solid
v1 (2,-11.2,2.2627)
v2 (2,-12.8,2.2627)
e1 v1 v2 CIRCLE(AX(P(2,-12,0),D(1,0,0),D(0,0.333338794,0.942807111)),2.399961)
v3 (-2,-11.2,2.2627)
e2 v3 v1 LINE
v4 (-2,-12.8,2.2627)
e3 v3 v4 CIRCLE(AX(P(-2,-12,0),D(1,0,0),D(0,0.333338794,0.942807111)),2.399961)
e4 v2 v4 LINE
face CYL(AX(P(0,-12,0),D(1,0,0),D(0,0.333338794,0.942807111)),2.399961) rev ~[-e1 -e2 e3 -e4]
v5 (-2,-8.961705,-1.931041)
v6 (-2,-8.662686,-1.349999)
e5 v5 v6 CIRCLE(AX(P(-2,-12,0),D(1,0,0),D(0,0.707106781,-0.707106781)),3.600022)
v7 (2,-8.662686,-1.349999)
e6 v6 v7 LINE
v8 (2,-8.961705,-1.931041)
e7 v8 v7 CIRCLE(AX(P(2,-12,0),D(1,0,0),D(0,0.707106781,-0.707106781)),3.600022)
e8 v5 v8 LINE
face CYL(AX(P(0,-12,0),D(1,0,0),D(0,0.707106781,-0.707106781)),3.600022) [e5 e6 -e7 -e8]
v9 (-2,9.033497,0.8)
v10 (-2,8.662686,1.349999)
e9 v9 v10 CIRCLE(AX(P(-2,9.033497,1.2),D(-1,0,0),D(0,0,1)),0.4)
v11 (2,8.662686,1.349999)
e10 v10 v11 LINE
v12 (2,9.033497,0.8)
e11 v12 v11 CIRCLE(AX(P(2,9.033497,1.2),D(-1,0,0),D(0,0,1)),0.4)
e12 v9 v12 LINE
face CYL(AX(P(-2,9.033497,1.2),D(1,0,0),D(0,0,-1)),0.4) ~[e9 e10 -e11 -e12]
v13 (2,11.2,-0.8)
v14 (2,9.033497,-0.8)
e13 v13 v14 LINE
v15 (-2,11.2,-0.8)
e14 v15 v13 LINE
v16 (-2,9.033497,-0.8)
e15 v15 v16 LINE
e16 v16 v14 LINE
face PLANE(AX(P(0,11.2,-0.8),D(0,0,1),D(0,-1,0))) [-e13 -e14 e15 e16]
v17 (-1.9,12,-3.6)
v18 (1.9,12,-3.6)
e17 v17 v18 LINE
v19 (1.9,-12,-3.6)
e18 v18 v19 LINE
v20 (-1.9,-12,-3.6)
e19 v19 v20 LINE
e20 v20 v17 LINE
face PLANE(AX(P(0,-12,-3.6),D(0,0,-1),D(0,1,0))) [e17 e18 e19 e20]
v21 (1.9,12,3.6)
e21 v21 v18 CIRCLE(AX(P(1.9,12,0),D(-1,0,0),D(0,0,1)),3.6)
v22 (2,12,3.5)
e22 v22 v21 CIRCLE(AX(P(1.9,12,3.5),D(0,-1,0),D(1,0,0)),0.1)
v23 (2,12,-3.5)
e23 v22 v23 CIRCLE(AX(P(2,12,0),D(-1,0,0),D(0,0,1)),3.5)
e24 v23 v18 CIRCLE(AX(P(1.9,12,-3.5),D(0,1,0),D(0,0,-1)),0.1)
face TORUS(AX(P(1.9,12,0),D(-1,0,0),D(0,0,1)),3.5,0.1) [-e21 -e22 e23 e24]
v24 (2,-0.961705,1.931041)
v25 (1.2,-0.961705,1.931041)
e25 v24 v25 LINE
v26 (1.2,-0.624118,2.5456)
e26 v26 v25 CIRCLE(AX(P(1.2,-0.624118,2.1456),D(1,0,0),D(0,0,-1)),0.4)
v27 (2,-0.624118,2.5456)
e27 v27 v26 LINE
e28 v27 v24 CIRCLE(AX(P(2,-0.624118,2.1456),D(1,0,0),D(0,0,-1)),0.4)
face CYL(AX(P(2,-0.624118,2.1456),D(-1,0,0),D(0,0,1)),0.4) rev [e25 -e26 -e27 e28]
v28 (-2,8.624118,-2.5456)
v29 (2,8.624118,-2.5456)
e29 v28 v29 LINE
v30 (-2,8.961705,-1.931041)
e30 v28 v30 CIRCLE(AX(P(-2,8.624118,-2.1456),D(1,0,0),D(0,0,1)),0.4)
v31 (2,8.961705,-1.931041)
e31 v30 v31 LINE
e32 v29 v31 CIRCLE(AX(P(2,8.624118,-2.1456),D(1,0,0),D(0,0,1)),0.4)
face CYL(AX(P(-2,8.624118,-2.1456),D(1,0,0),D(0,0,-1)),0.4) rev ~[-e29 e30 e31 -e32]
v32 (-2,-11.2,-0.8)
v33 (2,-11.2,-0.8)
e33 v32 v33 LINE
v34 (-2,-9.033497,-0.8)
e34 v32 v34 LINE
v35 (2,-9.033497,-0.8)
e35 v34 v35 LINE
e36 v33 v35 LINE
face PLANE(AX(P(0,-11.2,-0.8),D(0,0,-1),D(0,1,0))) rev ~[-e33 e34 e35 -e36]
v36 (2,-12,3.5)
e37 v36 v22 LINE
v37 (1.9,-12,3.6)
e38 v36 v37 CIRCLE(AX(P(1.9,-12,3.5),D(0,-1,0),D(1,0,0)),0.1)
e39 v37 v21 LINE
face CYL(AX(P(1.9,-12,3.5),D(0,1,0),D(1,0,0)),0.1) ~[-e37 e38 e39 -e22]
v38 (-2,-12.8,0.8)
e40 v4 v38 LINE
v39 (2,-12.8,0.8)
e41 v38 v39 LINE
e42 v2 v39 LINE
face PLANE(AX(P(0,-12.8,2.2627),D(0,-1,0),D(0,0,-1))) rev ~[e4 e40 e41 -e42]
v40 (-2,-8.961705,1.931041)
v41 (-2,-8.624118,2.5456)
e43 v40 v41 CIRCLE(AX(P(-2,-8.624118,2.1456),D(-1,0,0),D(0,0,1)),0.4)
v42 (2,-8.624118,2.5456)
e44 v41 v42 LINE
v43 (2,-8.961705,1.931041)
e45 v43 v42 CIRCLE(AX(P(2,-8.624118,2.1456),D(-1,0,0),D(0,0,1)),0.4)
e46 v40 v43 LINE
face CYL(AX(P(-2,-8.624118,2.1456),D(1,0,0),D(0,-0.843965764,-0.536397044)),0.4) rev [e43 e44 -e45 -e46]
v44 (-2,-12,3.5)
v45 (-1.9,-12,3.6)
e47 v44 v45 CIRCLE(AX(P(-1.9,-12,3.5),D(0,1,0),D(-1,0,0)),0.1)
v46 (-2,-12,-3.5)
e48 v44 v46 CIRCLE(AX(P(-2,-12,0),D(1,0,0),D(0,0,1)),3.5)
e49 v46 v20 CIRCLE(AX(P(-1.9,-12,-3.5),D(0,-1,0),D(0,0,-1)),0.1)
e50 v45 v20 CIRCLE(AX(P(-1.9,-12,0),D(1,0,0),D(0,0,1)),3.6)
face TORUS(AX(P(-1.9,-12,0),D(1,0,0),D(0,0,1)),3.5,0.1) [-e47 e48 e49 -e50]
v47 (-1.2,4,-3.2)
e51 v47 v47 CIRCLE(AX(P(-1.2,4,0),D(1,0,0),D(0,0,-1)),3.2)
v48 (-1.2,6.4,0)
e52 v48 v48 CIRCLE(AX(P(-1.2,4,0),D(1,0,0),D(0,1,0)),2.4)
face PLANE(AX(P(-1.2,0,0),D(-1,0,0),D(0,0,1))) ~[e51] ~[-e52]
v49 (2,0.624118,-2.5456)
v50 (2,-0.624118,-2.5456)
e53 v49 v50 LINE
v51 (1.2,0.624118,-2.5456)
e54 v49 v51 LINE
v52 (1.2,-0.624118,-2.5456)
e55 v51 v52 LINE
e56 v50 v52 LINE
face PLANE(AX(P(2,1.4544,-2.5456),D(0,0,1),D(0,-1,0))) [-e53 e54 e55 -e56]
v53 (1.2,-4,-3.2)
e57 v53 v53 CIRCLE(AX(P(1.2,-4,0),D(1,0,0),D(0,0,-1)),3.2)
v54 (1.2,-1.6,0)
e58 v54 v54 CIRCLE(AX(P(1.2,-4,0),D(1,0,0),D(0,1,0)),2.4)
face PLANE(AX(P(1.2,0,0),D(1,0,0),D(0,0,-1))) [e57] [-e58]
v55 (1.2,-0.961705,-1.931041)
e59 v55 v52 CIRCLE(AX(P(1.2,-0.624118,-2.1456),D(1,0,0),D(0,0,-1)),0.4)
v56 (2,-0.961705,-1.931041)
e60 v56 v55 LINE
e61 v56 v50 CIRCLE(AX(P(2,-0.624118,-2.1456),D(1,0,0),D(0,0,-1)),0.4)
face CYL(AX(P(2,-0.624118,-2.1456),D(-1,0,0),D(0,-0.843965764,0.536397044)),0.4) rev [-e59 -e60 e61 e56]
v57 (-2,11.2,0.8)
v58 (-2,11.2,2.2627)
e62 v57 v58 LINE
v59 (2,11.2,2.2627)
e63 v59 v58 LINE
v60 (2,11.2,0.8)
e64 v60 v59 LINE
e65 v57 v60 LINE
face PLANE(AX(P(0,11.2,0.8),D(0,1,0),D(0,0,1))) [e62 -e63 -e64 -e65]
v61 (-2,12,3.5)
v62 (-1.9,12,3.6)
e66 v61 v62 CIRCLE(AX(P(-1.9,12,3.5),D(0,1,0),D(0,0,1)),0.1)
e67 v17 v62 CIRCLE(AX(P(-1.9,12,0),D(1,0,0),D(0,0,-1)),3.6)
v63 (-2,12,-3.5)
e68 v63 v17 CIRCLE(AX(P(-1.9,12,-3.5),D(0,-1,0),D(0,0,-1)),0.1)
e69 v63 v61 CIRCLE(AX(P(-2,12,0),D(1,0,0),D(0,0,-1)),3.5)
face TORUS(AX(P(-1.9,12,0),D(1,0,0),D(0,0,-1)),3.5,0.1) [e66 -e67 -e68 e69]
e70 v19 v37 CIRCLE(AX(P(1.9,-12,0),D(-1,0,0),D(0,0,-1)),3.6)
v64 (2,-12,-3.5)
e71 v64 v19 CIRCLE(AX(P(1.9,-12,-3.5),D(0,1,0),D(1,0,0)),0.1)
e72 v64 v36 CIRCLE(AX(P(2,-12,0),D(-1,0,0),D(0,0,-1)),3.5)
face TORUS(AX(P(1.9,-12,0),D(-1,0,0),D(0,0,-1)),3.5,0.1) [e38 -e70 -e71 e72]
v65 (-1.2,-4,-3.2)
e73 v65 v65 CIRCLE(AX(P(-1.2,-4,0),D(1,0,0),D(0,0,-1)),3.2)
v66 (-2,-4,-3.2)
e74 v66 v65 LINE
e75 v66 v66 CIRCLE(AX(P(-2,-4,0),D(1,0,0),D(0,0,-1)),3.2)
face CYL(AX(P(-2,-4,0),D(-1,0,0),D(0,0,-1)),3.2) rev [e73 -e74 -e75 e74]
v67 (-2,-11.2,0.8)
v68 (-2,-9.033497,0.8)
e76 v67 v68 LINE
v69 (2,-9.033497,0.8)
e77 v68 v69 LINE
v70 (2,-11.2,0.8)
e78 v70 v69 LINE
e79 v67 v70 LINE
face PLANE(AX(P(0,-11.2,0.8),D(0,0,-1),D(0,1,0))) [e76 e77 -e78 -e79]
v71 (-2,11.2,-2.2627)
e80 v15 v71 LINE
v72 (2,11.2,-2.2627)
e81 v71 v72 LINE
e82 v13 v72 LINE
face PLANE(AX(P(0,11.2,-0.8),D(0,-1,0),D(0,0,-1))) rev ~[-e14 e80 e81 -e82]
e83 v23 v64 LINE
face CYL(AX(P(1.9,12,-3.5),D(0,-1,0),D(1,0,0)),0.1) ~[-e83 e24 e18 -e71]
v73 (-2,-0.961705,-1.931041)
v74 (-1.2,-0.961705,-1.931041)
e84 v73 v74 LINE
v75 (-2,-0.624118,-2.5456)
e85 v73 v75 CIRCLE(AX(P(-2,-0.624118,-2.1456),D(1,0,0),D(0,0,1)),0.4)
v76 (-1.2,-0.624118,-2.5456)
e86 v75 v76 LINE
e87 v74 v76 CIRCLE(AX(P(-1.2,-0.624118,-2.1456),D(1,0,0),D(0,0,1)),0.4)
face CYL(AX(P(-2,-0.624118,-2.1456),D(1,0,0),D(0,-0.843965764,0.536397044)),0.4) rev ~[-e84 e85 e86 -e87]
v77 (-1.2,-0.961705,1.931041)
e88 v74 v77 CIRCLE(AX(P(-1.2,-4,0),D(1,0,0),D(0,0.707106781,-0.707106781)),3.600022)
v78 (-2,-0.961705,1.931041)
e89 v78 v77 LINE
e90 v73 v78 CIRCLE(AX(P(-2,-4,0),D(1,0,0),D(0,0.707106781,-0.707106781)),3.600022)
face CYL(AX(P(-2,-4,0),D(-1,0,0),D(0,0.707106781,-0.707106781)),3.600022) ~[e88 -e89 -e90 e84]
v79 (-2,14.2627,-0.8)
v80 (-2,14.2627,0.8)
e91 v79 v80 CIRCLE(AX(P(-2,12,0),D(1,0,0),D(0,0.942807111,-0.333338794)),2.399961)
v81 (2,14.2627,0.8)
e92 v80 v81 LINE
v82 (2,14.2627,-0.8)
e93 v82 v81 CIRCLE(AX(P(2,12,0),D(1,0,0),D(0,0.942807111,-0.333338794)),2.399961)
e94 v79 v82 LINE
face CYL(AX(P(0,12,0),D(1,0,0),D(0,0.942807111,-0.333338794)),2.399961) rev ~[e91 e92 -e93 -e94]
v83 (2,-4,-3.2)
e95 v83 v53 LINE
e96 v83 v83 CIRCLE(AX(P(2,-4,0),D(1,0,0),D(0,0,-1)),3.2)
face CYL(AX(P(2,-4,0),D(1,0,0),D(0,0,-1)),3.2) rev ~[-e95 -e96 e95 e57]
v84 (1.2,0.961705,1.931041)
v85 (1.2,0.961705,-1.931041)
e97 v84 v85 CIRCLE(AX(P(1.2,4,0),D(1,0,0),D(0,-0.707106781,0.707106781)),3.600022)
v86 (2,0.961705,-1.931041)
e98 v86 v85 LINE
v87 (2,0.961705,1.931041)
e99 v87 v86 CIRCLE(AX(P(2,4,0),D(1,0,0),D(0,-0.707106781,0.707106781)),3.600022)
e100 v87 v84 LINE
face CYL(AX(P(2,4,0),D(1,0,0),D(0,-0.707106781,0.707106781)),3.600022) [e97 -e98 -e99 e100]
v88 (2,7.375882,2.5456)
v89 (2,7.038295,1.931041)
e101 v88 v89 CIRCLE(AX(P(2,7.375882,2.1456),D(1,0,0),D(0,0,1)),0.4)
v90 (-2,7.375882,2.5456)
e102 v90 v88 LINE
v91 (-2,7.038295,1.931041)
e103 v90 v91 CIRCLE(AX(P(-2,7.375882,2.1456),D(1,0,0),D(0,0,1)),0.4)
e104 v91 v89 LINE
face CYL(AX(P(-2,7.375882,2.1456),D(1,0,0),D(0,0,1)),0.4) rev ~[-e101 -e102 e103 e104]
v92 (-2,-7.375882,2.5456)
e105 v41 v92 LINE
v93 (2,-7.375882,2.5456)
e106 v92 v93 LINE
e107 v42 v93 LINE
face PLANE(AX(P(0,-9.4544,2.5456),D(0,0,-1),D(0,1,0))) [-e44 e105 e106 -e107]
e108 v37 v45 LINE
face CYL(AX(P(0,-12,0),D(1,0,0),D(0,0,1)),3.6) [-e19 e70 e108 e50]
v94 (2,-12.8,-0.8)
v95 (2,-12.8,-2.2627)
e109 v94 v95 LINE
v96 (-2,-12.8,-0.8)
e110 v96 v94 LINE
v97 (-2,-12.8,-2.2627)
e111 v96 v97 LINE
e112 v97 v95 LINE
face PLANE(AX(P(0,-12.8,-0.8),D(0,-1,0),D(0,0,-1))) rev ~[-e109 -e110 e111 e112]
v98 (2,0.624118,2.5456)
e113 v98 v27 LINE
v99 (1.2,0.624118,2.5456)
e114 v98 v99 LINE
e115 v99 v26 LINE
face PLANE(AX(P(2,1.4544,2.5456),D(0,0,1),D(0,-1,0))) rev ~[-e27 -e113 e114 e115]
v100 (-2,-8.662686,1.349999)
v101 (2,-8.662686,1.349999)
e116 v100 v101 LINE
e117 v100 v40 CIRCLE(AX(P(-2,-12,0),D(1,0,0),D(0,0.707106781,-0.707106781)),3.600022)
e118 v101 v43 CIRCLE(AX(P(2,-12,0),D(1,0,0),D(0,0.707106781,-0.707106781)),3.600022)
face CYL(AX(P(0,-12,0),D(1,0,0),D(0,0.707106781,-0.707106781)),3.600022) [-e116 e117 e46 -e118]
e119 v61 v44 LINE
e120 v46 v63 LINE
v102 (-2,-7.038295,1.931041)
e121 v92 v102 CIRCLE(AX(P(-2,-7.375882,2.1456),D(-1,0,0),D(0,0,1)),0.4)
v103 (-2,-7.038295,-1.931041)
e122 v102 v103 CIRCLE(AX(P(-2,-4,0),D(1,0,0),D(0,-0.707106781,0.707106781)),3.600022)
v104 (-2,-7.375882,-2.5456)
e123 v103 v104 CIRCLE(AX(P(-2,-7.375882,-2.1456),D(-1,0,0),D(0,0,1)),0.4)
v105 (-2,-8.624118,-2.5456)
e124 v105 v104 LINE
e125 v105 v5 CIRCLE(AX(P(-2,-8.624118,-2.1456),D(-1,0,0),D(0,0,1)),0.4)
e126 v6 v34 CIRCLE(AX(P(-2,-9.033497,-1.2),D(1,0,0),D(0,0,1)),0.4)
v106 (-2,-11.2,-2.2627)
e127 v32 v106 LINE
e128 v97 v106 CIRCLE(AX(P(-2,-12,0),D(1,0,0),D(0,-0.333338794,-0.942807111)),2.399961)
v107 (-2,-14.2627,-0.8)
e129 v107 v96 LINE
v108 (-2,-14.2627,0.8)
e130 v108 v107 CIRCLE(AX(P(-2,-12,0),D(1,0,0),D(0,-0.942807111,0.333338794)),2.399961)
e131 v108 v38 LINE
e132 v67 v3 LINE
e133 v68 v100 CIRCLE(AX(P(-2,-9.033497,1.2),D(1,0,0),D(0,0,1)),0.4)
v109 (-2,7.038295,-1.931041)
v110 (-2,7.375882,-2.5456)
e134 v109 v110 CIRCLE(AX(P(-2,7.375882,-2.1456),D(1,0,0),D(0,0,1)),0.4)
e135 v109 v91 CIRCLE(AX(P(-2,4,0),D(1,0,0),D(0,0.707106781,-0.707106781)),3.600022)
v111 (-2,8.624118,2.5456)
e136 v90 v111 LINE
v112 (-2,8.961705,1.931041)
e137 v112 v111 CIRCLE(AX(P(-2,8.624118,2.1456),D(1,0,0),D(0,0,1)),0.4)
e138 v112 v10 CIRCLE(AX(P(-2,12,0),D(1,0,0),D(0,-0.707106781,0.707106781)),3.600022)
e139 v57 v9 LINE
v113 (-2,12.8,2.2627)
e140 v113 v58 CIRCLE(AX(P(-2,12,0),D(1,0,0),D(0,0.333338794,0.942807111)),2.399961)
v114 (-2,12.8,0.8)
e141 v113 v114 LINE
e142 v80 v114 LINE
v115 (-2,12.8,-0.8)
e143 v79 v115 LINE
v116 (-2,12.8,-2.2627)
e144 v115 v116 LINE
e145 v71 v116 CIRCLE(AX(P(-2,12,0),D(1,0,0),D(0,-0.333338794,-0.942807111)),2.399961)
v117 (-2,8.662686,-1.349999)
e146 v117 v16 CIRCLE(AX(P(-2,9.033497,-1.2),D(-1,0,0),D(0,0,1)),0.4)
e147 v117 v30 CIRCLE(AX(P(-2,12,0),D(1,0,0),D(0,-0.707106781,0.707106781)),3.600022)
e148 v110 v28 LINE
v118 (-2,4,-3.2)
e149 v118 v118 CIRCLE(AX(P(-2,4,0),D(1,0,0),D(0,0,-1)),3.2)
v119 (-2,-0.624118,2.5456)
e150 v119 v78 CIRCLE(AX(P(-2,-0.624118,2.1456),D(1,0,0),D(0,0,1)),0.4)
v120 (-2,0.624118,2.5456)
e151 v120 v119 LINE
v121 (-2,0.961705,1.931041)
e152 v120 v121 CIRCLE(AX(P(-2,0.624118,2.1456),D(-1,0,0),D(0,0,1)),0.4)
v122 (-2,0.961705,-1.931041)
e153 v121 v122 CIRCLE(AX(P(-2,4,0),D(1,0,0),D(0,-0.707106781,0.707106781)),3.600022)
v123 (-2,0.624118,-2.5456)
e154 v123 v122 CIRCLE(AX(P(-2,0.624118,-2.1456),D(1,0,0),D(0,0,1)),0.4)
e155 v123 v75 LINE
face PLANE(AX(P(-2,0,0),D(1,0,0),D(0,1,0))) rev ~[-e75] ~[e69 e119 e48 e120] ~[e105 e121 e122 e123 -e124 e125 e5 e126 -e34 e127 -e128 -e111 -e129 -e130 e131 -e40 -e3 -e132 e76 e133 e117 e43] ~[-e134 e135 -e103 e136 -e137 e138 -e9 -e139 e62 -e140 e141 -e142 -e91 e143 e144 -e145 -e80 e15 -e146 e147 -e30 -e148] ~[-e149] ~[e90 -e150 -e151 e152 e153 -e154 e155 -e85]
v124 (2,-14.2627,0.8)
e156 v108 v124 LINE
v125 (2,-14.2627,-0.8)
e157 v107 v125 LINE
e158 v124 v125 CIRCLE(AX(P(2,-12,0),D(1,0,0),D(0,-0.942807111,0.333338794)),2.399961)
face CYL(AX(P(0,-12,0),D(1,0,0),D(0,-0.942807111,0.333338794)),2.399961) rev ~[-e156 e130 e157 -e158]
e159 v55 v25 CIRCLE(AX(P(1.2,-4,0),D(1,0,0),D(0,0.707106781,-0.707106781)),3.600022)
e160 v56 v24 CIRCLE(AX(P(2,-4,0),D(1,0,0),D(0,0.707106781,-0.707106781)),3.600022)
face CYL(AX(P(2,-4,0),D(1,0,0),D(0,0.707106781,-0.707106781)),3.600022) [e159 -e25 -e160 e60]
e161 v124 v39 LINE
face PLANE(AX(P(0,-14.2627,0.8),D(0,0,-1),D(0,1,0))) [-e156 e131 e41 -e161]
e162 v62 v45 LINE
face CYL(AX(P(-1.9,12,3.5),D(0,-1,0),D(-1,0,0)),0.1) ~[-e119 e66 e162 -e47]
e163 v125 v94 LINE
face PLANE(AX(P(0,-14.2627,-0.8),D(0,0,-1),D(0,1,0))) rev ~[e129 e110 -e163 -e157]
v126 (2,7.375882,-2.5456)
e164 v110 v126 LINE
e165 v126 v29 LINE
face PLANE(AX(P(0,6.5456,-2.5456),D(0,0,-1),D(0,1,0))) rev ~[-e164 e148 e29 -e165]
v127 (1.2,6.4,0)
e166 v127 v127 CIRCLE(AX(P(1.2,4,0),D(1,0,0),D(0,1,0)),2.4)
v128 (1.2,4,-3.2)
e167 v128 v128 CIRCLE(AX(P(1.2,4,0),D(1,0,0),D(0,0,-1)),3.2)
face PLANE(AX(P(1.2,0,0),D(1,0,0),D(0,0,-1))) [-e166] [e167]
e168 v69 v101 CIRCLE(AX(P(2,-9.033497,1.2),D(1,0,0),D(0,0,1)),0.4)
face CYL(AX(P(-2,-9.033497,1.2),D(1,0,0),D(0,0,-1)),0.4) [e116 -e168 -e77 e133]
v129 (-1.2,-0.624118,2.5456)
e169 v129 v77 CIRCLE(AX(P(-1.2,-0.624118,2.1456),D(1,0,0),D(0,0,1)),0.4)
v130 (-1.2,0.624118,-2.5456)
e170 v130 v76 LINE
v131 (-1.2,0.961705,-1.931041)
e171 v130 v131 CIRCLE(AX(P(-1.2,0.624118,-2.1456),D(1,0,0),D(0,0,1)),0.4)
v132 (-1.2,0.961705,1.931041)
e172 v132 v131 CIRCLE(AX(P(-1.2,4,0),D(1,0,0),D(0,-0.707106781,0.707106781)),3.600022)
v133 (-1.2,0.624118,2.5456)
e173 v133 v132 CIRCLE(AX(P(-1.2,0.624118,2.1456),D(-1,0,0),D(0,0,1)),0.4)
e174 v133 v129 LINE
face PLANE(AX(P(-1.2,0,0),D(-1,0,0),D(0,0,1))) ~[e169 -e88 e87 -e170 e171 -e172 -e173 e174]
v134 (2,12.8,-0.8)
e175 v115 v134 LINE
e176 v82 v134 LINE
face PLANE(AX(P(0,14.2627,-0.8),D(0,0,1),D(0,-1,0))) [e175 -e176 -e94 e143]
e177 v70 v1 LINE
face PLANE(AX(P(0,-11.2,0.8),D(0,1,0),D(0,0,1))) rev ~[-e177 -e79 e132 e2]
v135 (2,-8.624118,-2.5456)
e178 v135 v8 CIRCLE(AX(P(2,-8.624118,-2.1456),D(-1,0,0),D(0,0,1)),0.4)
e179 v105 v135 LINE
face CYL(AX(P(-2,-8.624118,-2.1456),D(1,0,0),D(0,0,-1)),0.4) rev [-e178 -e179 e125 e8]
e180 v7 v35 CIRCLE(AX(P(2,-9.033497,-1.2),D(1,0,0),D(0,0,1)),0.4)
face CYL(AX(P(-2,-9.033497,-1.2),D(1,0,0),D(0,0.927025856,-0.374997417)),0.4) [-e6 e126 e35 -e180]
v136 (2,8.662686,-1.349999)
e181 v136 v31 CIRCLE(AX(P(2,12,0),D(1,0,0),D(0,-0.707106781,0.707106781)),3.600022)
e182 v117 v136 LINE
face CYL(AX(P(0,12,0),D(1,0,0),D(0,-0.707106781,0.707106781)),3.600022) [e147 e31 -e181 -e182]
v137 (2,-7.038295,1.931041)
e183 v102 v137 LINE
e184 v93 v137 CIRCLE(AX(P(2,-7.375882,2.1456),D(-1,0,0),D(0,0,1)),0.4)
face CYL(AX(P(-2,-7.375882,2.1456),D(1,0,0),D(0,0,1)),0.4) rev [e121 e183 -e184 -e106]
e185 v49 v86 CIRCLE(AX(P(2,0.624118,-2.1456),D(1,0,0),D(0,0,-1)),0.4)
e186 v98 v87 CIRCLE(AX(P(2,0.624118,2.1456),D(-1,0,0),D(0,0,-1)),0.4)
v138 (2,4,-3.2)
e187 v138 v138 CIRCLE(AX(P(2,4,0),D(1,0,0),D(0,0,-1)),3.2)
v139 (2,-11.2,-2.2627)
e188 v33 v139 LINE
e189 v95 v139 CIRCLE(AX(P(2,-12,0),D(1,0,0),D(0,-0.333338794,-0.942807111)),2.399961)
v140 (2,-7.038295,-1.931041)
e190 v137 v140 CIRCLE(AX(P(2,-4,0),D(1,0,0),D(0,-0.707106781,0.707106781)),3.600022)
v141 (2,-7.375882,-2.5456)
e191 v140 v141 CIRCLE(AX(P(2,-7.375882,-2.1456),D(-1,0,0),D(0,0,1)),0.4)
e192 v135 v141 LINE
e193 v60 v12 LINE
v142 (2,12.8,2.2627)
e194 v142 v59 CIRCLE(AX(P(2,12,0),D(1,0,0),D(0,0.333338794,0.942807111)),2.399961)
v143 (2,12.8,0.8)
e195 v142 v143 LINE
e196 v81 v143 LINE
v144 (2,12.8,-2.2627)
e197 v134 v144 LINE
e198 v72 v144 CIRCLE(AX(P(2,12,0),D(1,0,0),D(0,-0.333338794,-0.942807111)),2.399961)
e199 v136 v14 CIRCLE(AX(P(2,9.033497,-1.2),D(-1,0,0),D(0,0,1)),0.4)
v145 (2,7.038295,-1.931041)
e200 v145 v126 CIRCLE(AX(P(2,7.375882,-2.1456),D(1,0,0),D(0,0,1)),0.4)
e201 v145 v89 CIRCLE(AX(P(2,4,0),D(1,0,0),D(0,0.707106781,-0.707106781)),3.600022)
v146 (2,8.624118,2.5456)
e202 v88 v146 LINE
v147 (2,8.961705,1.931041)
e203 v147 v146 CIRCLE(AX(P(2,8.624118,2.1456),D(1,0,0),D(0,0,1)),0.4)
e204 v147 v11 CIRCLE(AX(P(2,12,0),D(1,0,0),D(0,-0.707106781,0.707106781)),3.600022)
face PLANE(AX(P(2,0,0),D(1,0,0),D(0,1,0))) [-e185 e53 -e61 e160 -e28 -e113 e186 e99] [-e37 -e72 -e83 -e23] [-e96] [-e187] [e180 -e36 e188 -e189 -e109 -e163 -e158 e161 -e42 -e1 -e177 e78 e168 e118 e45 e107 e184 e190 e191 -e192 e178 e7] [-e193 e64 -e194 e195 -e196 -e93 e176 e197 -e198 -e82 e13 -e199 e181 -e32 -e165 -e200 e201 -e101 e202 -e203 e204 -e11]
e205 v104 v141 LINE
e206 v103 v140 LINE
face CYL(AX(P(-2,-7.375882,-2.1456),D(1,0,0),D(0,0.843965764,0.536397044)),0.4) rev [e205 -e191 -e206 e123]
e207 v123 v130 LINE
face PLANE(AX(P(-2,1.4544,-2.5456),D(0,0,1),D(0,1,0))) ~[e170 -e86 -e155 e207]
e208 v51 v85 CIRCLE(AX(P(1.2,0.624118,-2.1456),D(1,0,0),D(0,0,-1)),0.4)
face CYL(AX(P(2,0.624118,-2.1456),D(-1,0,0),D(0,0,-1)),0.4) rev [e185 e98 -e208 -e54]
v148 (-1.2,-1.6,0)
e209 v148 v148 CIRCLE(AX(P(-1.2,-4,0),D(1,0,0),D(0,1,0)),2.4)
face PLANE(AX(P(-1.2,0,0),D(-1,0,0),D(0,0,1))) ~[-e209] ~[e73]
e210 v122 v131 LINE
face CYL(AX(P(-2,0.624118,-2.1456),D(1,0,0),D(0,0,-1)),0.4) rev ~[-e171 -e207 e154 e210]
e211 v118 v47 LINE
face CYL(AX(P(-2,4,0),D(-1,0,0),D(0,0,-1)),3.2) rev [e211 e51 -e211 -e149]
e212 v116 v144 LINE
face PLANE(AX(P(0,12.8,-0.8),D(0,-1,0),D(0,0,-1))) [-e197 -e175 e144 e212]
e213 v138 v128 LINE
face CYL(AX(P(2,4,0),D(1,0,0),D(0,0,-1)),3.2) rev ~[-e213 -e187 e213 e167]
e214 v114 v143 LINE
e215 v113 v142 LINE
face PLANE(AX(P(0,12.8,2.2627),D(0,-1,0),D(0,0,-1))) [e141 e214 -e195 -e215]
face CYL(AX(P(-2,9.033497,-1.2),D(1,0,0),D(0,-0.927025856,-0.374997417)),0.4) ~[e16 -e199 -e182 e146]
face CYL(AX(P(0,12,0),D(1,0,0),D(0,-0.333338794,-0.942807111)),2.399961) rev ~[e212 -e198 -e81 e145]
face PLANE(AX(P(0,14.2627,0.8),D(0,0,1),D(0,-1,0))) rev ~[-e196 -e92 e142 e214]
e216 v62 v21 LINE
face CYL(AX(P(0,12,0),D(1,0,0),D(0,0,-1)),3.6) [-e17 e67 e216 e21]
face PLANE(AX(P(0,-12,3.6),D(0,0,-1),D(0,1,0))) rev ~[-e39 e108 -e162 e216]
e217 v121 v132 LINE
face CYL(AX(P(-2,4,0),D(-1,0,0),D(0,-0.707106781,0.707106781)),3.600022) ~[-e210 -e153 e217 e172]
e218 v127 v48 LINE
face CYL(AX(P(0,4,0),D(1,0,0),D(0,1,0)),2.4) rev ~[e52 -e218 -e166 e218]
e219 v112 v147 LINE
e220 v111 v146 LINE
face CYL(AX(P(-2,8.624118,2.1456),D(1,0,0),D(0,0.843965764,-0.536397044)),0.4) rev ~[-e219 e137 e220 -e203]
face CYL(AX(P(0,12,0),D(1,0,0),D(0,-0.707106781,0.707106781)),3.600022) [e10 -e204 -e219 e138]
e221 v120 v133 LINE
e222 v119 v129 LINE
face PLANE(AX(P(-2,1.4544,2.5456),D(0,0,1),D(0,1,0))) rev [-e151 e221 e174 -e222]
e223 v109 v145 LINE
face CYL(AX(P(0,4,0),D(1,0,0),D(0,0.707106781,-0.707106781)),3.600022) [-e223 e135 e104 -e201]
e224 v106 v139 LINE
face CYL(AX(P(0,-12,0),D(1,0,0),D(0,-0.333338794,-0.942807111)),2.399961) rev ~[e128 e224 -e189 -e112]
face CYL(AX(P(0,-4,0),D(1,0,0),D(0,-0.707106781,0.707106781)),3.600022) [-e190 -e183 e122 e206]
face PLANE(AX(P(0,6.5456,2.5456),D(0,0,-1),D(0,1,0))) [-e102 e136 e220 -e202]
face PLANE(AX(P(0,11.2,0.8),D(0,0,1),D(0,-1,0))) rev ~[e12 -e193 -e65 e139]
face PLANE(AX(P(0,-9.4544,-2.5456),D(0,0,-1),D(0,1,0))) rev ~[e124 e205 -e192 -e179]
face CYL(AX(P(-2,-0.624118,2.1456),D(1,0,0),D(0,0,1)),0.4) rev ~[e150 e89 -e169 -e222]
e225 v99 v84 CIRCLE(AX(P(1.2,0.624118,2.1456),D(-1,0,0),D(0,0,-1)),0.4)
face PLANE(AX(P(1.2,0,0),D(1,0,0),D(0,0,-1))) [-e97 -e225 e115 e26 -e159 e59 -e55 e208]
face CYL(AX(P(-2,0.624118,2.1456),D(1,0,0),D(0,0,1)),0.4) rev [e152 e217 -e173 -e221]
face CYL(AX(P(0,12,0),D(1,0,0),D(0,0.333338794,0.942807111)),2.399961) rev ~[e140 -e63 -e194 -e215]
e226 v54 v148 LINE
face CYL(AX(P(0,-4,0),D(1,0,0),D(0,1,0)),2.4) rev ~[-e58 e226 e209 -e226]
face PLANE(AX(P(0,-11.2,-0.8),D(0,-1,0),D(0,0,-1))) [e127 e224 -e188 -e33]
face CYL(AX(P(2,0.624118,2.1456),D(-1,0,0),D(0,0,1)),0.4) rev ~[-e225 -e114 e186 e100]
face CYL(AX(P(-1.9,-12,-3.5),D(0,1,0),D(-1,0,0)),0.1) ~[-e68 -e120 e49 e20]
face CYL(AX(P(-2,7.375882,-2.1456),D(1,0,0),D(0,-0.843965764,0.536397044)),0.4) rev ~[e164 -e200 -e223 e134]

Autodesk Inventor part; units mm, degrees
ref_plane "YZ Plane" through (0, 0, 0) normal (1, 0, 0) x (0, 1, 0)
ref_plane "XZ Plane" through (0, 0, 0) normal (0, 1, 0) x (-1, 0, 0)
ref_plane "XY Plane" through (0, 0, 0) normal (0, 0, 1) x (1, 0, 0)
sketch "Sketch3" plane through (0, 0, 0) normal (1, 0, 0) x (0, 1, 0)
  arc A0 (12.8, 2.2627) -> (11.2, 2.2627) centre (12, 0) ccw
  arc A1 (11.2, -2.2627) -> (12.8, -2.2627) centre (12, 0) ccw
  arc A2 (14.2627, -0.8) -> (14.2627, 0.8) centre (12, 0) ccw
  line L0 (14.2627, 0.8) -> (12.8, 0.8)
  line L1 (11.2, 0.8) -> (8.49, 0.8)
  line L2 (12.8, 2.2627) -> (12.8, 0.8)
  line L3 (12.8, -0.8) -> (12.8, -2.2627)
  line L4 (14.2627, -0.8) -> (12.8, -0.8)
  line L5 (11.2, -0.8) -> (8.49, -0.8)
  arc A3 (12, -3.6) -> (12, 3.6) centre (12, 0) ccw
  line L6 (-12, -3.6) -> (12, -3.6)
  line L7 (-12, 3.6) -> (12, 3.6)
  line L8 (11.2, 0.8) -> (11.2, 2.2627)
  line L9 (11.2, -0.8) -> (11.2, -2.2627)
  arc A4 (-12, 3.6) -> (-12, -3.6) centre (-12, 0) ccw
  line L10 (0, -3.6) -> (0, 3.6) construction
  arc A5 (-11.2, 2.2627) -> (-12.8, 2.2627) centre (-12, 0) ccw
  arc A6 (-12.8, -2.2627) -> (-11.2, -2.2627) centre (-12, 0) ccw
  line L11 (-12.8, -0.8) -> (-12.8, -2.2627)
  line L12 (-12.8, 2.2627) -> (-12.8, 0.8)
  line L13 (-14.2627, -0.8) -> (-12.8, -0.8)
  line L14 (-14.2627, 0.8) -> (-12.8, 0.8)
  arc A7 (-14.2627, 0.8) -> (-14.2627, -0.8) centre (-12, 0) ccw
  line L15 (-11.2, 0.8) -> (-8.49, 0.8)
  line L16 (-11.2, -0.8) -> (-8.49, -0.8)
  line L17 (-11.2, 0.8) -> (-11.2, 2.2627)
  line L18 (-11.2, -0.8) -> (-11.2, -2.2627)
  circle A8 centre (-4, 0) radius 3.2
  circle A9 centre (4, 0) radius 3.2
  line L19 (12, 0) -> (4, 0) construction
  line L20 (4, 0) -> (-4, 0) construction
  line L21 (-4, 0) -> (-12, 0) construction
  circle A10 centre (-4, 0) radius 2.4
  circle A11 centre (4, 0) radius 2.4
  line L22 (-9.4544, 2.5456) -> (-6.5456, 2.5456)
  line L23 (-9.4544, -2.5456) -> (-6.5456, -2.5456)
  line L24 (-1.4544, 2.5456) -> (1.4544, 2.5456)
  line L25 (-1.4544, -2.5456) -> (1.4544, -2.5456)
  line L26 (6.5456, 2.5456) -> (9.4544, 2.5456)
  line L27 (6.5456, -2.5456) -> (9.4544, -2.5456)
  arc A12 (-9.4544, -2.5456) -> (-9.4544, 2.5456) centre (-12, 0) ccw
  arc A13 (-6.5456, 2.5456) -> (-6.5456, -2.5456) centre (-4, 0) ccw
  arc A14 (-1.4544, -2.5456) -> (-1.4544, 2.5456) centre (-4, 0) ccw
  arc A15 (1.4544, 2.5456) -> (1.4544, -2.5456) centre (4, 0) ccw
  arc A16 (6.5456, -2.5456) -> (6.5456, 2.5456) centre (4, 0) ccw
  arc A17 (9.4544, 2.5456) -> (9.4544, -2.5456) centre (12, 0) ccw
  line L28 (-12, 0) -> (-9.4544, 2.5456) construction
  arc A18 (8.49, 0.8) -> (8.49, -0.8) centre (12, 0) ccw
  point P0 (0, 0)
  dimension "d47" = 4.8
  dimension "d49" = 7.2
  dimension "d53" = 1.6
  dimension "d58" = 24
  dimension "d59" = 6.4
  dimension "d60" = 4.8
  dimension "d64" = 45
extrude "Extrusion4" add sketch "Sketch3" along normal mid plane 4 contours L6 A4 L7 A3 | A8 | A9 | L24 A15 L25 A14
sketch "Sketch11" plane through (2, 0, 0) normal (1, 0, 0) x (0, 0, -1)
  circle A0 centre (0, 4) radius 2.4 projected
  circle A1 centre (0, -4) radius 2.4 projected
  circle A2 centre (0, 4) radius 3.2
  circle A3 centre (0, -4) radius 3.2
  arc A4 (2.5456, 6.5456) -> (-2.5456, 6.5456) centre (0, 4) ccw projected
  arc A5 (-2.5456, -6.5456) -> (2.5456, -6.5456) centre (0, -4) ccw projected
  line L0 (-2.2627, -11.2) -> (-0.8, -11.2) projected
  line L1 (-2.5456, 1.4544) -> (-2.5456, -1.4544)
  line L2 (2.5456, 1.4544) -> (2.5456, -1.4544)
  arc A6 (-2.5456, 1.4544) -> (2.5456, 1.4544) centre (0, 4) ccw
  arc A7 (2.5456, -1.4544) -> (-2.5456, -1.4544) centre (0, -4) ccw
  point P0 (0, 0)
  dimension "d61" = 6.4
extrude "Extrusion16" cut sketch "Sketch11" against normal blind 0.8 contours A2 | A3
extrude "Extrusion17" cut sketch "Sketch11" against normal blind 0.8 contours A6 L2 A7 L1
mirror "Mirror3" about plane through (0, 0, 0) normal (1, 0, 0) of "Extrusion16", "Extrusion17"
fillet "Fillet1" radius 0.1 8 edges at (-2, 15.6, 0) (-2, 0, 3.6) (-2, 0, -3.6) (2, 0, 3.6) (2, 0, -3.6) (2, 15.6, 0) (-2, -15.6, 0) (2, -15.6, 0)
fillet "Fillet1" radius 0.4 20 edges at (0, -9.4544, 2.5456) (0, -6.5456, 2.5456) (0, -9.4544, -2.5456) (0, -6.5456, -2.5456) (1.6, -1.4544, -2.5456) (1.6, 1.4544, -2.5456) (1.6, 1.4544, 2.5456) (1.6, -1.4544, 2.5456) (0, 6.5456, 2.5456) (0, 9.4544, 2.5456) (0, 6.5456, -2.5456) (0, 9.4544, -2.5456) (-1.6, -1.4544, 2.5456) (-1.6, -1.4544, -2.5456) (-1.6, 1.4544, -2.5456) (-1.6, 1.4544, 2.5456) (0, -8.49, 0.8) (0, -8.49, -0.8) (0, 8.49, -0.8) (0, 8.49, 0.8)
equation "\"d47\" = kd"
equation "\"d49\" = tlad"
equation "\"d53\" = axlet"
equation "\"d58\" = 3 * lu"
equation "\"d59\" = tsd"
equation "\"d60\" = tpd"
equation "\"d15\" = 0.5 * lu"
equation "\"d61\" = tsd"
equation "\"d62\" = tsl"
equation "\"d65\" = 0.5 * lu - 2 * wall"
equation "\"lf\" = 0.1"
equation "\"tf\" = 0.4"
equation "\"kd\" = 4.8"
equation "\"tlad\" = 7.2"
equation "\"axlet\" = 1.6"
equation "\"lu\" = 8"
equation "\"tsd\" = 6.4"
equation "\"tpd\" = 4.8"
equation "\"tsl\" = 0.8"
equation "\"wall\" = 1.6"
properties part number "32449-Yellow" material "ABS Plastic"
